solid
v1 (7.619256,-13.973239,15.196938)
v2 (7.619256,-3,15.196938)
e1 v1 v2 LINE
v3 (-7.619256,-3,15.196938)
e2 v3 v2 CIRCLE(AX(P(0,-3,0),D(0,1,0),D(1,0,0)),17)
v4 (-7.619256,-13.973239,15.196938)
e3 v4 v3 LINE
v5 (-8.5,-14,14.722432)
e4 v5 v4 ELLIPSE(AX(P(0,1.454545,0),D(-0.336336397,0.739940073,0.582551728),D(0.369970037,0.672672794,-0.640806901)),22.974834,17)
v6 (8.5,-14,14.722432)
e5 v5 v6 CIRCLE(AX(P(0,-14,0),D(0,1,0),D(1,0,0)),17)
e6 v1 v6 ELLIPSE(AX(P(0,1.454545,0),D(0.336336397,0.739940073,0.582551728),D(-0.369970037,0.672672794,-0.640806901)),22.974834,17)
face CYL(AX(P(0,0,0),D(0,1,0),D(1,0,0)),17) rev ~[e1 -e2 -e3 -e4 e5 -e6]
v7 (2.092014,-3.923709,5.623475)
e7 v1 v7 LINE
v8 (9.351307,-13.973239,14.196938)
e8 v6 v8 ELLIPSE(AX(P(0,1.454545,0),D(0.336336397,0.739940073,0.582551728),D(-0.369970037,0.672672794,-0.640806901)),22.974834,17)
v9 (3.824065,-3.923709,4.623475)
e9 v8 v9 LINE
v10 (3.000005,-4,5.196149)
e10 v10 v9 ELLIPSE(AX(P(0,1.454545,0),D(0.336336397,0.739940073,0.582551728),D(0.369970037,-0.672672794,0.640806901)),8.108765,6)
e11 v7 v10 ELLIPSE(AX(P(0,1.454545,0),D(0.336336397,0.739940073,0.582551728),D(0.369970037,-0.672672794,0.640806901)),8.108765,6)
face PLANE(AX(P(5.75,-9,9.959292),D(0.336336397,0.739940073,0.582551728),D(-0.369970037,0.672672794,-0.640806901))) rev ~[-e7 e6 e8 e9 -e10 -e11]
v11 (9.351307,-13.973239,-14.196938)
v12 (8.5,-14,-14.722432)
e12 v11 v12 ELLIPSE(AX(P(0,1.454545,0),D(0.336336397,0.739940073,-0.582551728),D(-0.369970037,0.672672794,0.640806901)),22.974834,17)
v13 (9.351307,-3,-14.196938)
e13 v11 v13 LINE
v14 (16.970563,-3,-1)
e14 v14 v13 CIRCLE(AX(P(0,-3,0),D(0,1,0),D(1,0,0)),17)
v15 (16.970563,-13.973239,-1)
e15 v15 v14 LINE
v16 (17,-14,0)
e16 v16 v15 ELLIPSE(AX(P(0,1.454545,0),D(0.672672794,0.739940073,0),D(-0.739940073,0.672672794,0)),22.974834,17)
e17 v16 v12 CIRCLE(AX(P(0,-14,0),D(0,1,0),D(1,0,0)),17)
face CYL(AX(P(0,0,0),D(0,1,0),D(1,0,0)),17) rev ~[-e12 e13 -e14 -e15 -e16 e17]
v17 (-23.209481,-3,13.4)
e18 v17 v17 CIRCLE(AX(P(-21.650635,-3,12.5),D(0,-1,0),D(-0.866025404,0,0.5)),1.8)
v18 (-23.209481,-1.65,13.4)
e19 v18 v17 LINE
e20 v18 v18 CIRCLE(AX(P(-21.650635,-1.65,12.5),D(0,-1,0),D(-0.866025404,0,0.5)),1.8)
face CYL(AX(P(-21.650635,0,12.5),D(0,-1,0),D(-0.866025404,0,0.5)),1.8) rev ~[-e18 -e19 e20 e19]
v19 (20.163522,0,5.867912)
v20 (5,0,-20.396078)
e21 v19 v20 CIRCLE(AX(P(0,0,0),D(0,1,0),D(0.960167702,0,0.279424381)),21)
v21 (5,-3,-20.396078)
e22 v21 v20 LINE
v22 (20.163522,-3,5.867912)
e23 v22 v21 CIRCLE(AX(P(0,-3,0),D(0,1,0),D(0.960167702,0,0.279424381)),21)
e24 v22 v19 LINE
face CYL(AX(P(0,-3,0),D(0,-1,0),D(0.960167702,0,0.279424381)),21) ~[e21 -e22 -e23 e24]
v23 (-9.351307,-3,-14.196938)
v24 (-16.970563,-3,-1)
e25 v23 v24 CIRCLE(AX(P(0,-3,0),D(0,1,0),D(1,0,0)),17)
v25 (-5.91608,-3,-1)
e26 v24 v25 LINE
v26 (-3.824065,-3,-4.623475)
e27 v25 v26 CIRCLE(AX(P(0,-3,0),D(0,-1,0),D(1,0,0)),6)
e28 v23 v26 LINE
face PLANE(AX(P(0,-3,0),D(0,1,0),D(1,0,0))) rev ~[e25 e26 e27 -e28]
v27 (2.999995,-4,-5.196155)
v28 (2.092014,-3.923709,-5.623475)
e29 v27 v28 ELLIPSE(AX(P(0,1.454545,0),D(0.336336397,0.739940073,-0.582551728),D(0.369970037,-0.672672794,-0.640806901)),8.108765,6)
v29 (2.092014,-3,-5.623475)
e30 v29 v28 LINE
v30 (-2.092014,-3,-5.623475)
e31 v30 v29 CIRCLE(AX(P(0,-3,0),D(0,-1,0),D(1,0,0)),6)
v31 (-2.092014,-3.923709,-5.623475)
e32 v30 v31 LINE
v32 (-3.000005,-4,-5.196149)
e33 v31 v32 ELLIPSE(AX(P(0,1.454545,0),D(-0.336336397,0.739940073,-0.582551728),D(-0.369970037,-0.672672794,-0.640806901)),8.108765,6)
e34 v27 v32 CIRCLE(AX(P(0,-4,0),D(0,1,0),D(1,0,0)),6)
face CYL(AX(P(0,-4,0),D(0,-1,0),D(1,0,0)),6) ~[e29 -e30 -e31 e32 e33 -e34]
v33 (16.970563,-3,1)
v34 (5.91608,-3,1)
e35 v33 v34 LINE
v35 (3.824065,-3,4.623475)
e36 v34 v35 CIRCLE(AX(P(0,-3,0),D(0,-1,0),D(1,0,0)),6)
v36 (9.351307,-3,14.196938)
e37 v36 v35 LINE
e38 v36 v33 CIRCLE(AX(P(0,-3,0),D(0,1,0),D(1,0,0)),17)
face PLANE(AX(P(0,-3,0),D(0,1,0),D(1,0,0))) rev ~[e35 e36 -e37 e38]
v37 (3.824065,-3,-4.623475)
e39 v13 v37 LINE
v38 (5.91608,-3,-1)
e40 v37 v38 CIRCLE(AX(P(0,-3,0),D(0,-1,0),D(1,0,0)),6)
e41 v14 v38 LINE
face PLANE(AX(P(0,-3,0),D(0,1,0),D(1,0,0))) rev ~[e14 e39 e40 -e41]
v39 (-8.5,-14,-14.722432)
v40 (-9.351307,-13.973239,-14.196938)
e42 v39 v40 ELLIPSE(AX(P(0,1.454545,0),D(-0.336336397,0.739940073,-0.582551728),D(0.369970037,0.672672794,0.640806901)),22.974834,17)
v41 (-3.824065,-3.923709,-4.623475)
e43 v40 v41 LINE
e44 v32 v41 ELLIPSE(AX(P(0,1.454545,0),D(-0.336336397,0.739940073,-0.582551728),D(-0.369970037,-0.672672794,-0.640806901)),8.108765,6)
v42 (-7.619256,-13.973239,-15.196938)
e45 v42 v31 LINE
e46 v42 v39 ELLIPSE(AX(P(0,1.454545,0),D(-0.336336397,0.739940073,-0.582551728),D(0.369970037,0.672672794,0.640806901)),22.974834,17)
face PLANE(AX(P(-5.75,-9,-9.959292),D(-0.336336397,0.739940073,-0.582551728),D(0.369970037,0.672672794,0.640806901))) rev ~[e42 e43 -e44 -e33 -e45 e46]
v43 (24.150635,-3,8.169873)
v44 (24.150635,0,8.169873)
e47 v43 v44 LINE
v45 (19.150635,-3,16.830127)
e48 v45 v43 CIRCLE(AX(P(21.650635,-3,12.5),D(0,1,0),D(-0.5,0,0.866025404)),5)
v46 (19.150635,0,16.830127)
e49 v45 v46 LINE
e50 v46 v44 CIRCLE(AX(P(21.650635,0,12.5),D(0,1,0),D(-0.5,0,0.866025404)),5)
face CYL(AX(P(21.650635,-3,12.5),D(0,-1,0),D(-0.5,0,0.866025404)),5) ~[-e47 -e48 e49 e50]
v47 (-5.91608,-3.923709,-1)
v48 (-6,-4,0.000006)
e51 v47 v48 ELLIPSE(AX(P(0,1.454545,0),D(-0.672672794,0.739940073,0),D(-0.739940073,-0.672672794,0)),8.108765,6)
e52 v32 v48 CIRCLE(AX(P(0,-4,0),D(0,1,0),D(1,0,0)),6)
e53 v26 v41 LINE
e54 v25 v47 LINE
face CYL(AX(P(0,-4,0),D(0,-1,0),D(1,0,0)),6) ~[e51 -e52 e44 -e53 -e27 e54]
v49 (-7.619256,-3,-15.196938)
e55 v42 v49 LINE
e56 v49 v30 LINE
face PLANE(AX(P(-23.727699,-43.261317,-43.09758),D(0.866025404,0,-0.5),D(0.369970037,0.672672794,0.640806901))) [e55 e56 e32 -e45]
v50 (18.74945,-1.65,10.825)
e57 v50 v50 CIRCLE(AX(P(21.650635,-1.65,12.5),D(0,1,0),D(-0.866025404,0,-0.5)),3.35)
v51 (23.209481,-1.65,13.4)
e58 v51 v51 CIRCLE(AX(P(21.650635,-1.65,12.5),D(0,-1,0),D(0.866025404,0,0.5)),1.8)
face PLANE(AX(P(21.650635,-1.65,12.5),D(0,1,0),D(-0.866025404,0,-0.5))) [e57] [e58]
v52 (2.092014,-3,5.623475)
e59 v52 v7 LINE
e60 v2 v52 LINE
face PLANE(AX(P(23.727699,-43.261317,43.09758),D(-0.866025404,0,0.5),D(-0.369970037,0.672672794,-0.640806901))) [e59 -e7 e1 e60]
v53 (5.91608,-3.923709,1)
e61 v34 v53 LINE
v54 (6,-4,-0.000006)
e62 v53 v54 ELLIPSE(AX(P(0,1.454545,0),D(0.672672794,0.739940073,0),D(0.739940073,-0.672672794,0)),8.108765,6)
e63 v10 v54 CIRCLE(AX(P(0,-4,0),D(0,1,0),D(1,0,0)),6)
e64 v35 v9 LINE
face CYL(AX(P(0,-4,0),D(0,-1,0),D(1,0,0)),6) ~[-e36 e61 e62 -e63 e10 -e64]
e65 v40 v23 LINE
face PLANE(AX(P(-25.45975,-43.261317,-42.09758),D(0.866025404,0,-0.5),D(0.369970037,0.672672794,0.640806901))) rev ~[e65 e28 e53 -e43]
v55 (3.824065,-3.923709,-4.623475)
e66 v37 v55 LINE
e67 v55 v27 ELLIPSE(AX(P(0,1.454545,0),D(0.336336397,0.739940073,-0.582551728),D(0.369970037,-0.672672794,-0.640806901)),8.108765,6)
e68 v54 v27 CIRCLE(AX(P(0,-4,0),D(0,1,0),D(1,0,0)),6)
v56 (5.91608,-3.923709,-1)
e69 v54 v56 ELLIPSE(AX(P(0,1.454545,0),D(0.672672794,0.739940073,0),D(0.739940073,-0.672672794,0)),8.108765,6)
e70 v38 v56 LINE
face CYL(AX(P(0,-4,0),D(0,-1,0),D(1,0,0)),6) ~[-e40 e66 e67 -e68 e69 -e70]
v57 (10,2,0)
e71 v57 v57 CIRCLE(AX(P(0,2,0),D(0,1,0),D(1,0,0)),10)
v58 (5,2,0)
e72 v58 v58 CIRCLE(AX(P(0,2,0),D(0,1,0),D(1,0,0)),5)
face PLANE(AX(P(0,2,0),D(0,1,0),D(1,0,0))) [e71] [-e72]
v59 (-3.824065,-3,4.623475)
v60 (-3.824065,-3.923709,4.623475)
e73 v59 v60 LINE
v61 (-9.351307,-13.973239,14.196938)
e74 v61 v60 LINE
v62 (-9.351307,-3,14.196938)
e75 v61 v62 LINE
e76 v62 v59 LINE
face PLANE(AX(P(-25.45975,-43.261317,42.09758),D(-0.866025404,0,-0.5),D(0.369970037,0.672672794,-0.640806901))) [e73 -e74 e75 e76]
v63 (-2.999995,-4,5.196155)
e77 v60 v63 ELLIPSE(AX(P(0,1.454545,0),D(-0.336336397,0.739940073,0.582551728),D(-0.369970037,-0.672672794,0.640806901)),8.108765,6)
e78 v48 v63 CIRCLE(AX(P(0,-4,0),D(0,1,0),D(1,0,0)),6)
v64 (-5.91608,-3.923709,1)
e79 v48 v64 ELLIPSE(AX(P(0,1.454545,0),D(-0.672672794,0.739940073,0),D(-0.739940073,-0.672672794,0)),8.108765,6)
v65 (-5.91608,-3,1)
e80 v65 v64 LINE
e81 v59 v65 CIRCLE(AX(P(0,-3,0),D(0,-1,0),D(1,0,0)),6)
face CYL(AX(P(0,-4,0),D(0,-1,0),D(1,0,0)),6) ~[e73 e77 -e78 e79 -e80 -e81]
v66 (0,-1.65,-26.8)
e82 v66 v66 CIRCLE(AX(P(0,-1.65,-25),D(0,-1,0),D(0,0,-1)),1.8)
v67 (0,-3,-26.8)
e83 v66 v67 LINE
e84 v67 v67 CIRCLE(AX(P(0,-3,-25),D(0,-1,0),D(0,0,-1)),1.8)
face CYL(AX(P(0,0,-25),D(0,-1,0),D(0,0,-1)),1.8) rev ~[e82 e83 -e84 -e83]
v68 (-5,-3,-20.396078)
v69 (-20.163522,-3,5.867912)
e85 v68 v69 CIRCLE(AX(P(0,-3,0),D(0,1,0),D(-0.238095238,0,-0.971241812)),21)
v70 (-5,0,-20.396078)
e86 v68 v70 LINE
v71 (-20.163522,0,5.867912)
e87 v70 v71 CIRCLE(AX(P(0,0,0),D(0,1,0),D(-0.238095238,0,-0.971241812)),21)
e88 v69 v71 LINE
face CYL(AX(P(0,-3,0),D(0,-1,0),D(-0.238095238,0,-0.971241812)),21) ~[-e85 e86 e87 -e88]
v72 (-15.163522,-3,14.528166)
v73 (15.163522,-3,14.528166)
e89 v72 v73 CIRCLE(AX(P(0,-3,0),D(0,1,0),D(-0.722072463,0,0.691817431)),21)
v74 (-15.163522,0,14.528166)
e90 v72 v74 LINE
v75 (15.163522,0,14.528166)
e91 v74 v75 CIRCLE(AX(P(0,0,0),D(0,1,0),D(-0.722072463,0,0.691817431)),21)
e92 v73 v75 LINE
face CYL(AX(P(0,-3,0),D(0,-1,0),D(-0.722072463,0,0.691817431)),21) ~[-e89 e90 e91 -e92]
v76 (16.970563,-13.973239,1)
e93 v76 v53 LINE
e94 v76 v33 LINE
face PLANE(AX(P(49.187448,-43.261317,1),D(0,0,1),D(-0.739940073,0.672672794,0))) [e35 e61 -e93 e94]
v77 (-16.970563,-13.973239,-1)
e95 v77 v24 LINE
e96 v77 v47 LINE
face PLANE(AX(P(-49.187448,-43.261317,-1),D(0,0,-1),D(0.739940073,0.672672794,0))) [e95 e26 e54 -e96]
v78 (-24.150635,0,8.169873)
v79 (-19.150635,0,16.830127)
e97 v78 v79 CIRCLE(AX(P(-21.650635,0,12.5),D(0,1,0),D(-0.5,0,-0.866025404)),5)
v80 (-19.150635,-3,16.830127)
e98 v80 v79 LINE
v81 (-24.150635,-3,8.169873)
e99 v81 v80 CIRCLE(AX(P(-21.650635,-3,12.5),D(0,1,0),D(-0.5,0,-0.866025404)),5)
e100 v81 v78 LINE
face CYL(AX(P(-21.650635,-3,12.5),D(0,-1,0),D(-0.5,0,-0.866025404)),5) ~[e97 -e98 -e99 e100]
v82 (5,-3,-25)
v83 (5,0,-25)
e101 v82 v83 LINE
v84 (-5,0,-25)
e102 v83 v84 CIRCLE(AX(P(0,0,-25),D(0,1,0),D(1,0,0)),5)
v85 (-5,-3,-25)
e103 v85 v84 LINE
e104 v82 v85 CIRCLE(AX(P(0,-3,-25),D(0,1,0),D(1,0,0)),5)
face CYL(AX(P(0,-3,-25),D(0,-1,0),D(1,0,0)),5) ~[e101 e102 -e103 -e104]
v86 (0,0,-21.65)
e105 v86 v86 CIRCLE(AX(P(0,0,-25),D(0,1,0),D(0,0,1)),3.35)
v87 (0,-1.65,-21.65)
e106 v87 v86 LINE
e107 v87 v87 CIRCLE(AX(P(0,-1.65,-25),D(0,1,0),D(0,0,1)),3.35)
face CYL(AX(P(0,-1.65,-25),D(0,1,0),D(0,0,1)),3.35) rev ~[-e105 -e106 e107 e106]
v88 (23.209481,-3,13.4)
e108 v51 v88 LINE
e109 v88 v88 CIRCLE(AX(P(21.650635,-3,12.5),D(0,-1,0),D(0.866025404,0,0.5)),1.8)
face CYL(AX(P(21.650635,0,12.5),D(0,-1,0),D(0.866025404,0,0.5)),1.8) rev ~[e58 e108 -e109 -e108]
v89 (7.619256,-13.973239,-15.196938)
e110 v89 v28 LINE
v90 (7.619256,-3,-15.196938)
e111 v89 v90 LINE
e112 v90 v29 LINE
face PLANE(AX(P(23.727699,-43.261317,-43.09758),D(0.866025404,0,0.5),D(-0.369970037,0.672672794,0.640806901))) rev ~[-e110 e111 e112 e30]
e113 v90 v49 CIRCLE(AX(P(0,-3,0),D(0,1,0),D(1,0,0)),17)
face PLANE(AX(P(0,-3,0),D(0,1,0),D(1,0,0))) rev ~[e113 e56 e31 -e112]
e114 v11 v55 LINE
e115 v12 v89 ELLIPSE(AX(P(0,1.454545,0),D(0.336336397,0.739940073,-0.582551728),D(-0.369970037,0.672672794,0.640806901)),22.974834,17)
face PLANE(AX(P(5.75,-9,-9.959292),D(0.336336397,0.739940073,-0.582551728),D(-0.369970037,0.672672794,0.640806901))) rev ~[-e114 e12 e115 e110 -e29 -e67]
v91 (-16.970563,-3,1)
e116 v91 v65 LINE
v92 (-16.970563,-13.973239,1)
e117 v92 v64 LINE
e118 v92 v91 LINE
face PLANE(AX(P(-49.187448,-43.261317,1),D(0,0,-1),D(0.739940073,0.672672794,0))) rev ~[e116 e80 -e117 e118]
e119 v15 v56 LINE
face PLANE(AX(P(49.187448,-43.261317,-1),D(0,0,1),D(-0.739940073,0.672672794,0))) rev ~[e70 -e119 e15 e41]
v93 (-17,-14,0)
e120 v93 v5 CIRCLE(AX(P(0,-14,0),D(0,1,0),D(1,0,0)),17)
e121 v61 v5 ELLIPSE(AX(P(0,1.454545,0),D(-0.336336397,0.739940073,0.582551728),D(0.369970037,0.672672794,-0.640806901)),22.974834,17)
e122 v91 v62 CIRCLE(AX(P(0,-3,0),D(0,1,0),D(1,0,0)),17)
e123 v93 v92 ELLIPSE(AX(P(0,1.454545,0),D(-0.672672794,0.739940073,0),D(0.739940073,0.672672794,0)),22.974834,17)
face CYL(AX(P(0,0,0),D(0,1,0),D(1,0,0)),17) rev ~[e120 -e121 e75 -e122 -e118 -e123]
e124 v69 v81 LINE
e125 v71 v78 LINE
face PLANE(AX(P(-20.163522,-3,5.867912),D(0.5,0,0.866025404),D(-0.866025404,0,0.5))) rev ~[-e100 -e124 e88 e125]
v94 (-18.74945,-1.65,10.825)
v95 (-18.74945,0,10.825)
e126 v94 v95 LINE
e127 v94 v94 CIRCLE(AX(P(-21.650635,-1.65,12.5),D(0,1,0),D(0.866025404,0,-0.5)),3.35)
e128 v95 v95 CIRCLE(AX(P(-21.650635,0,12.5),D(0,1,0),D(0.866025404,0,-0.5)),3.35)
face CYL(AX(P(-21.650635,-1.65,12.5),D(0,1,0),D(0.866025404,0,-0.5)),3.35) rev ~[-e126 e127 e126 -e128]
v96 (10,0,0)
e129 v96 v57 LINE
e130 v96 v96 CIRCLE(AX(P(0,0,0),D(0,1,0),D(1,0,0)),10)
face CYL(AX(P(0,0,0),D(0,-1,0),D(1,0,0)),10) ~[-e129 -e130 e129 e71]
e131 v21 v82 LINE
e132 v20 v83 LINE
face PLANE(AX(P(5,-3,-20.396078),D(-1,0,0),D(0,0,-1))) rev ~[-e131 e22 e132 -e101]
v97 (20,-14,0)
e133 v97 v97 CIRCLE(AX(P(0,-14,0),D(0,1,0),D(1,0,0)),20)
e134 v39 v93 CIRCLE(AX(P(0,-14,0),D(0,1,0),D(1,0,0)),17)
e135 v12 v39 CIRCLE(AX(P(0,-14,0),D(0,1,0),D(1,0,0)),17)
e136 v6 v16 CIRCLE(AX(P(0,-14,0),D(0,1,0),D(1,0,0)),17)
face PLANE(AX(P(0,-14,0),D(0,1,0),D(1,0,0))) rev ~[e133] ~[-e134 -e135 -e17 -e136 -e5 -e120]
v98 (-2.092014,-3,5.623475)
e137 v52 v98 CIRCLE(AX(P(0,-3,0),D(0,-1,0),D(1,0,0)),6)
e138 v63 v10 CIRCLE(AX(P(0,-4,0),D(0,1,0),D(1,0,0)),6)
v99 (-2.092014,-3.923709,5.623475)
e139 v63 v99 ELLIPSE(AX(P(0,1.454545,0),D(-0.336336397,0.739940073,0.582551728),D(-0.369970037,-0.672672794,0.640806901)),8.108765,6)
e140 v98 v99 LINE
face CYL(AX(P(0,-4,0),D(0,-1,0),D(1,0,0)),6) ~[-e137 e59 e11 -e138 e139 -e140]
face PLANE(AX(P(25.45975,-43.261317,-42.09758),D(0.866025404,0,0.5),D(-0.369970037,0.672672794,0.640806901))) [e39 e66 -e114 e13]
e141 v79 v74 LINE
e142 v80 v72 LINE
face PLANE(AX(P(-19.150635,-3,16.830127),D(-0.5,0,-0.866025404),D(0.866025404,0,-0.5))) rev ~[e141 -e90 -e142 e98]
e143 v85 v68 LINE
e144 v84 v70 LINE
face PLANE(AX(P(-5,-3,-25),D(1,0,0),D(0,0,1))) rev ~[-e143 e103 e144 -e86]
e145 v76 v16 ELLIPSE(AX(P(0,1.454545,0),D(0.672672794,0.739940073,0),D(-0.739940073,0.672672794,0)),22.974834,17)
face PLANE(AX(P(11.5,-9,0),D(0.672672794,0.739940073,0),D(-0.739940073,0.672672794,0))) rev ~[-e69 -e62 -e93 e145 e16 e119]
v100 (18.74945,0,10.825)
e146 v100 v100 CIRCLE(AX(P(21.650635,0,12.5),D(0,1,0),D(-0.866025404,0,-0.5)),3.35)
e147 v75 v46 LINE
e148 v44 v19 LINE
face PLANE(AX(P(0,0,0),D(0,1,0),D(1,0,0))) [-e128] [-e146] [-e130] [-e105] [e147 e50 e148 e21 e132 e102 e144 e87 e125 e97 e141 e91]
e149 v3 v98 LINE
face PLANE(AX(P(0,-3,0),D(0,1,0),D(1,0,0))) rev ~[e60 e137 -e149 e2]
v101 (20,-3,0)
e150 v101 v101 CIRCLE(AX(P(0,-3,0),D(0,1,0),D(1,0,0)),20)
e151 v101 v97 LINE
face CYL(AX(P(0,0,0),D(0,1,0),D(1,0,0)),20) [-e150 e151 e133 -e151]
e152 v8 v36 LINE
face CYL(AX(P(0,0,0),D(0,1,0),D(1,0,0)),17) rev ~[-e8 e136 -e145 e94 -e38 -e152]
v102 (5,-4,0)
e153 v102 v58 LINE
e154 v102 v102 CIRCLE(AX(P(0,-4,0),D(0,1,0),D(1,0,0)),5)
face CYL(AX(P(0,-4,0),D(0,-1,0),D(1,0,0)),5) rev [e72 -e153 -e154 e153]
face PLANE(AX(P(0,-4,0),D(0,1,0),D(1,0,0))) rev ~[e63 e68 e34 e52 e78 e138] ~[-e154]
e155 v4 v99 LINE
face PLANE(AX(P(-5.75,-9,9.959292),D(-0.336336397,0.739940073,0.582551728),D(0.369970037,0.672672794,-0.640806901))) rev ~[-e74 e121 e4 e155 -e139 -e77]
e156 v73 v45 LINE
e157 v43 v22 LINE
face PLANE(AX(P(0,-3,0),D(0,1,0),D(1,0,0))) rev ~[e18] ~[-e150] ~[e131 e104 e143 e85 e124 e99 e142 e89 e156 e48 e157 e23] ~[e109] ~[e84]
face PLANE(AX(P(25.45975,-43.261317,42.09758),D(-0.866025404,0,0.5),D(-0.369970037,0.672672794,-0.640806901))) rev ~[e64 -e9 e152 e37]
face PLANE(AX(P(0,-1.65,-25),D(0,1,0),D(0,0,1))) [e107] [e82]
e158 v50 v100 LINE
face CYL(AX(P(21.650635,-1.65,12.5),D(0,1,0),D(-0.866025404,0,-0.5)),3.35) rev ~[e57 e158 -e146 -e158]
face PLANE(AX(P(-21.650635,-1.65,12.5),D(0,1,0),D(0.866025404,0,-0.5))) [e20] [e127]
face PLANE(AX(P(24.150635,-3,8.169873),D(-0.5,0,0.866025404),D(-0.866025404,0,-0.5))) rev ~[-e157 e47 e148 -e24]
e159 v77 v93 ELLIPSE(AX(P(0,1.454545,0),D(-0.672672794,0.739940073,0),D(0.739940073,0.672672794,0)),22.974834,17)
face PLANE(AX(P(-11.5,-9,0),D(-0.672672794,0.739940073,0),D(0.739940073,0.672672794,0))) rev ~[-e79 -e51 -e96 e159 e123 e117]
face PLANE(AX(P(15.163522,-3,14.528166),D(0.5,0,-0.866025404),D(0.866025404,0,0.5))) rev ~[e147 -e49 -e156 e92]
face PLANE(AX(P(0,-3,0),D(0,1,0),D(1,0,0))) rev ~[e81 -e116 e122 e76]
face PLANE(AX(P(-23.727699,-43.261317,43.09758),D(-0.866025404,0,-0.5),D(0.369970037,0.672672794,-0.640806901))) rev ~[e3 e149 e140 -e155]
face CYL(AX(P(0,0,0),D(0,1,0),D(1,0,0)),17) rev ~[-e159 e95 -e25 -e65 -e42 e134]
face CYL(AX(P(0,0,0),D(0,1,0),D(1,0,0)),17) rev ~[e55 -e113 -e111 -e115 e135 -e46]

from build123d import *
from build123d.topology import SkipClean

# Parameters (mm, degrees)
SKETCH2_R                                = 10
SKETCH2_R_2                              = 5
BOSS_EXTRUDE1_DEPTH                      = 2
BOSS_EXTRUDE2_START                      = -3
SKETCH2_3_R                              = 5
BOSS_EXTRUDE2_DEPTH                      = 3
BOSS_EXTRUDE3_START                      = -4
SKETCH2_4_R                              = 6
SKETCH2_4_R_2                            = 5
BOSS_EXTRUDE3_DEPTH                      = 4
SKETCH2_6_R                              = 20
SKETCH2_6_R_2                            = 17
BOSS_EXTRUDE4_DEPTH                      = 14
CBORE_FOR_M12_HEX_HEAD_BOLT1_D           = 3.6
CBORE_FOR_M12_HEX_HEAD_BOLT1_CBORE_D     = 6.7
CBORE_FOR_M12_HEX_HEAD_BOLT1_CBORE_DEPTH = 1.65
CIRPATTERN1_COUNT                        = 3
RIB1_REACH                               = 44.5
SKETCH4_WALL_W                           = 101.866218182
SKETCH4_WALL_H                           = 2
CIRPATTERN2_COUNT                        = 6


with BuildPart() as part:
    # Sketch2 → Boss-Extrude1 (new body)
    with BuildSketch(Plane(origin=(0, 0, 0), x_dir=(1, 0, 0), z_dir=(0, 1, 0))):
        Circle(SKETCH2_R)
        Circle(SKETCH2_R_2, mode=Mode.SUBTRACT)
    extrude(amount=BOSS_EXTRUDE1_DEPTH)

    # Sketch2<3> → Boss-Extrude2 (add)
    with BuildSketch(Plane(origin=(0, 0, 0), x_dir=(1, 0, 0), z_dir=(0, 1, 0)).offset(BOSS_EXTRUDE2_START)):
        with BuildLine():
            Line((5, 20.396078054), (5, 25))
            ThreePointArc((5, 25), (0, 30), (-5, 25))
            Line((-5, 25), (-5, 20.396078054))
            ThreePointArc((-5, 20.396078054), (-18.186533479, 10.5), (-20.163521733, -5.867912008))
            Line((-20.163521733, -5.867912008), (-24.150635095, -8.169872981))
            ThreePointArc((-24.150635095, -8.169872981), (-25.980762114, -15), (-19.150635095, -16.830127019))
            Line((-19.150635095, -16.830127019), (-15.163521733, -14.528166046))
            ThreePointArc((-15.163521733, -14.528166046), (0, -21), (15.163521733, -14.528166046))
            Line((15.163521733, -14.528166046), (19.150635095, -16.830127019))
            ThreePointArc((19.150635095, -16.830127019), (25.980762114, -15), (24.150635095, -8.169872981))
            Line((24.150635095, -8.169872981), (20.163521733, -5.867912008))
            ThreePointArc((20.163521733, -5.867912008), (18.186533479, 10.5), (5, 20.396078054))
        make_face()
        Circle(SKETCH2_3_R, mode=Mode.SUBTRACT)
    extrude(amount=BOSS_EXTRUDE2_DEPTH)

    # Sketch2<4> → Boss-Extrude3 (add)
    with BuildSketch(Plane(origin=(0, 0, 0), x_dir=(1, 0, 0), z_dir=(0, 1, 0)).offset(BOSS_EXTRUDE3_START)):
        Circle(SKETCH2_4_R)
        Circle(SKETCH2_4_R_2, mode=Mode.SUBTRACT)
    extrude(amount=BOSS_EXTRUDE3_DEPTH)

    # Sketch2<6> → Boss-Extrude4 (add)
    with BuildSketch(Plane(origin=(0, 0, 0), x_dir=(1, 0, 0), z_dir=(0, 1, 0))):
        Circle(SKETCH2_6_R)
        Circle(SKETCH2_6_R_2, mode=Mode.SUBTRACT)
    extrude(amount=-BOSS_EXTRUDE4_DEPTH)

    # CBORE for M12 Hex Head Bolt1 (through all)
    with Locations(Plane(origin=(0, 0, -25), x_dir=(0, 0, 1), z_dir=(0, 1, 0))):
        with Locations((0, 0)):
            cbore_for_m12_hex_head_bolt1 = CounterBoreHole(CBORE_FOR_M12_HEX_HEAD_BOLT1_D / 2, CBORE_FOR_M12_HEX_HEAD_BOLT1_CBORE_D / 2, CBORE_FOR_M12_HEX_HEAD_BOLT1_CBORE_DEPTH)

    # CirPattern1: CBORE for M12 Hex Head Bolt1 ×3 about axis
    cirpattern1_axis = Axis((0, 0, 0), (0, 1, 0))
    for i in range(1, CIRPATTERN1_COUNT):
        add(cbore_for_m12_hex_head_bolt1.rotate(cirpattern1_axis, i * 360 / CIRPATTERN1_COUNT), mode=Mode.SUBTRACT)

    # Sketch4 wall → Rib1 (add, up to next)
    with BuildSketch(Plane(origin=(-11.5, -9, 0), x_dir=(0.739940073396, 0.672672793996, 0), z_dir=(-0.672672793996, 0.739940073396, 0)), mode=Mode.PRIVATE) as rib1_sk1:
        Rectangle(SKETCH4_WALL_W, SKETCH4_WALL_H)
    rib1_tool1 = extrude(rib1_sk1.sketch, amount=RIB1_REACH, mode=Mode.PRIVATE) - part.part
    rib1 = rib1_tool1.solids().sort_by_distance((-11.5, -9, 0))[0]
    add(rib1)

    # CirPattern2: Rib1 ×6 about axis
    with SkipClean():  # the faces are left unmerged after this step: merging them gives an invalid solid
        cirpattern2_axis = Axis((0, -14, 0), (0, 1, 0))
        for i in range(1, CIRPATTERN2_COUNT):
            add(rib1.rotate(cirpattern2_axis, i * 360 / CIRPATTERN2_COUNT))


solid = part.part
